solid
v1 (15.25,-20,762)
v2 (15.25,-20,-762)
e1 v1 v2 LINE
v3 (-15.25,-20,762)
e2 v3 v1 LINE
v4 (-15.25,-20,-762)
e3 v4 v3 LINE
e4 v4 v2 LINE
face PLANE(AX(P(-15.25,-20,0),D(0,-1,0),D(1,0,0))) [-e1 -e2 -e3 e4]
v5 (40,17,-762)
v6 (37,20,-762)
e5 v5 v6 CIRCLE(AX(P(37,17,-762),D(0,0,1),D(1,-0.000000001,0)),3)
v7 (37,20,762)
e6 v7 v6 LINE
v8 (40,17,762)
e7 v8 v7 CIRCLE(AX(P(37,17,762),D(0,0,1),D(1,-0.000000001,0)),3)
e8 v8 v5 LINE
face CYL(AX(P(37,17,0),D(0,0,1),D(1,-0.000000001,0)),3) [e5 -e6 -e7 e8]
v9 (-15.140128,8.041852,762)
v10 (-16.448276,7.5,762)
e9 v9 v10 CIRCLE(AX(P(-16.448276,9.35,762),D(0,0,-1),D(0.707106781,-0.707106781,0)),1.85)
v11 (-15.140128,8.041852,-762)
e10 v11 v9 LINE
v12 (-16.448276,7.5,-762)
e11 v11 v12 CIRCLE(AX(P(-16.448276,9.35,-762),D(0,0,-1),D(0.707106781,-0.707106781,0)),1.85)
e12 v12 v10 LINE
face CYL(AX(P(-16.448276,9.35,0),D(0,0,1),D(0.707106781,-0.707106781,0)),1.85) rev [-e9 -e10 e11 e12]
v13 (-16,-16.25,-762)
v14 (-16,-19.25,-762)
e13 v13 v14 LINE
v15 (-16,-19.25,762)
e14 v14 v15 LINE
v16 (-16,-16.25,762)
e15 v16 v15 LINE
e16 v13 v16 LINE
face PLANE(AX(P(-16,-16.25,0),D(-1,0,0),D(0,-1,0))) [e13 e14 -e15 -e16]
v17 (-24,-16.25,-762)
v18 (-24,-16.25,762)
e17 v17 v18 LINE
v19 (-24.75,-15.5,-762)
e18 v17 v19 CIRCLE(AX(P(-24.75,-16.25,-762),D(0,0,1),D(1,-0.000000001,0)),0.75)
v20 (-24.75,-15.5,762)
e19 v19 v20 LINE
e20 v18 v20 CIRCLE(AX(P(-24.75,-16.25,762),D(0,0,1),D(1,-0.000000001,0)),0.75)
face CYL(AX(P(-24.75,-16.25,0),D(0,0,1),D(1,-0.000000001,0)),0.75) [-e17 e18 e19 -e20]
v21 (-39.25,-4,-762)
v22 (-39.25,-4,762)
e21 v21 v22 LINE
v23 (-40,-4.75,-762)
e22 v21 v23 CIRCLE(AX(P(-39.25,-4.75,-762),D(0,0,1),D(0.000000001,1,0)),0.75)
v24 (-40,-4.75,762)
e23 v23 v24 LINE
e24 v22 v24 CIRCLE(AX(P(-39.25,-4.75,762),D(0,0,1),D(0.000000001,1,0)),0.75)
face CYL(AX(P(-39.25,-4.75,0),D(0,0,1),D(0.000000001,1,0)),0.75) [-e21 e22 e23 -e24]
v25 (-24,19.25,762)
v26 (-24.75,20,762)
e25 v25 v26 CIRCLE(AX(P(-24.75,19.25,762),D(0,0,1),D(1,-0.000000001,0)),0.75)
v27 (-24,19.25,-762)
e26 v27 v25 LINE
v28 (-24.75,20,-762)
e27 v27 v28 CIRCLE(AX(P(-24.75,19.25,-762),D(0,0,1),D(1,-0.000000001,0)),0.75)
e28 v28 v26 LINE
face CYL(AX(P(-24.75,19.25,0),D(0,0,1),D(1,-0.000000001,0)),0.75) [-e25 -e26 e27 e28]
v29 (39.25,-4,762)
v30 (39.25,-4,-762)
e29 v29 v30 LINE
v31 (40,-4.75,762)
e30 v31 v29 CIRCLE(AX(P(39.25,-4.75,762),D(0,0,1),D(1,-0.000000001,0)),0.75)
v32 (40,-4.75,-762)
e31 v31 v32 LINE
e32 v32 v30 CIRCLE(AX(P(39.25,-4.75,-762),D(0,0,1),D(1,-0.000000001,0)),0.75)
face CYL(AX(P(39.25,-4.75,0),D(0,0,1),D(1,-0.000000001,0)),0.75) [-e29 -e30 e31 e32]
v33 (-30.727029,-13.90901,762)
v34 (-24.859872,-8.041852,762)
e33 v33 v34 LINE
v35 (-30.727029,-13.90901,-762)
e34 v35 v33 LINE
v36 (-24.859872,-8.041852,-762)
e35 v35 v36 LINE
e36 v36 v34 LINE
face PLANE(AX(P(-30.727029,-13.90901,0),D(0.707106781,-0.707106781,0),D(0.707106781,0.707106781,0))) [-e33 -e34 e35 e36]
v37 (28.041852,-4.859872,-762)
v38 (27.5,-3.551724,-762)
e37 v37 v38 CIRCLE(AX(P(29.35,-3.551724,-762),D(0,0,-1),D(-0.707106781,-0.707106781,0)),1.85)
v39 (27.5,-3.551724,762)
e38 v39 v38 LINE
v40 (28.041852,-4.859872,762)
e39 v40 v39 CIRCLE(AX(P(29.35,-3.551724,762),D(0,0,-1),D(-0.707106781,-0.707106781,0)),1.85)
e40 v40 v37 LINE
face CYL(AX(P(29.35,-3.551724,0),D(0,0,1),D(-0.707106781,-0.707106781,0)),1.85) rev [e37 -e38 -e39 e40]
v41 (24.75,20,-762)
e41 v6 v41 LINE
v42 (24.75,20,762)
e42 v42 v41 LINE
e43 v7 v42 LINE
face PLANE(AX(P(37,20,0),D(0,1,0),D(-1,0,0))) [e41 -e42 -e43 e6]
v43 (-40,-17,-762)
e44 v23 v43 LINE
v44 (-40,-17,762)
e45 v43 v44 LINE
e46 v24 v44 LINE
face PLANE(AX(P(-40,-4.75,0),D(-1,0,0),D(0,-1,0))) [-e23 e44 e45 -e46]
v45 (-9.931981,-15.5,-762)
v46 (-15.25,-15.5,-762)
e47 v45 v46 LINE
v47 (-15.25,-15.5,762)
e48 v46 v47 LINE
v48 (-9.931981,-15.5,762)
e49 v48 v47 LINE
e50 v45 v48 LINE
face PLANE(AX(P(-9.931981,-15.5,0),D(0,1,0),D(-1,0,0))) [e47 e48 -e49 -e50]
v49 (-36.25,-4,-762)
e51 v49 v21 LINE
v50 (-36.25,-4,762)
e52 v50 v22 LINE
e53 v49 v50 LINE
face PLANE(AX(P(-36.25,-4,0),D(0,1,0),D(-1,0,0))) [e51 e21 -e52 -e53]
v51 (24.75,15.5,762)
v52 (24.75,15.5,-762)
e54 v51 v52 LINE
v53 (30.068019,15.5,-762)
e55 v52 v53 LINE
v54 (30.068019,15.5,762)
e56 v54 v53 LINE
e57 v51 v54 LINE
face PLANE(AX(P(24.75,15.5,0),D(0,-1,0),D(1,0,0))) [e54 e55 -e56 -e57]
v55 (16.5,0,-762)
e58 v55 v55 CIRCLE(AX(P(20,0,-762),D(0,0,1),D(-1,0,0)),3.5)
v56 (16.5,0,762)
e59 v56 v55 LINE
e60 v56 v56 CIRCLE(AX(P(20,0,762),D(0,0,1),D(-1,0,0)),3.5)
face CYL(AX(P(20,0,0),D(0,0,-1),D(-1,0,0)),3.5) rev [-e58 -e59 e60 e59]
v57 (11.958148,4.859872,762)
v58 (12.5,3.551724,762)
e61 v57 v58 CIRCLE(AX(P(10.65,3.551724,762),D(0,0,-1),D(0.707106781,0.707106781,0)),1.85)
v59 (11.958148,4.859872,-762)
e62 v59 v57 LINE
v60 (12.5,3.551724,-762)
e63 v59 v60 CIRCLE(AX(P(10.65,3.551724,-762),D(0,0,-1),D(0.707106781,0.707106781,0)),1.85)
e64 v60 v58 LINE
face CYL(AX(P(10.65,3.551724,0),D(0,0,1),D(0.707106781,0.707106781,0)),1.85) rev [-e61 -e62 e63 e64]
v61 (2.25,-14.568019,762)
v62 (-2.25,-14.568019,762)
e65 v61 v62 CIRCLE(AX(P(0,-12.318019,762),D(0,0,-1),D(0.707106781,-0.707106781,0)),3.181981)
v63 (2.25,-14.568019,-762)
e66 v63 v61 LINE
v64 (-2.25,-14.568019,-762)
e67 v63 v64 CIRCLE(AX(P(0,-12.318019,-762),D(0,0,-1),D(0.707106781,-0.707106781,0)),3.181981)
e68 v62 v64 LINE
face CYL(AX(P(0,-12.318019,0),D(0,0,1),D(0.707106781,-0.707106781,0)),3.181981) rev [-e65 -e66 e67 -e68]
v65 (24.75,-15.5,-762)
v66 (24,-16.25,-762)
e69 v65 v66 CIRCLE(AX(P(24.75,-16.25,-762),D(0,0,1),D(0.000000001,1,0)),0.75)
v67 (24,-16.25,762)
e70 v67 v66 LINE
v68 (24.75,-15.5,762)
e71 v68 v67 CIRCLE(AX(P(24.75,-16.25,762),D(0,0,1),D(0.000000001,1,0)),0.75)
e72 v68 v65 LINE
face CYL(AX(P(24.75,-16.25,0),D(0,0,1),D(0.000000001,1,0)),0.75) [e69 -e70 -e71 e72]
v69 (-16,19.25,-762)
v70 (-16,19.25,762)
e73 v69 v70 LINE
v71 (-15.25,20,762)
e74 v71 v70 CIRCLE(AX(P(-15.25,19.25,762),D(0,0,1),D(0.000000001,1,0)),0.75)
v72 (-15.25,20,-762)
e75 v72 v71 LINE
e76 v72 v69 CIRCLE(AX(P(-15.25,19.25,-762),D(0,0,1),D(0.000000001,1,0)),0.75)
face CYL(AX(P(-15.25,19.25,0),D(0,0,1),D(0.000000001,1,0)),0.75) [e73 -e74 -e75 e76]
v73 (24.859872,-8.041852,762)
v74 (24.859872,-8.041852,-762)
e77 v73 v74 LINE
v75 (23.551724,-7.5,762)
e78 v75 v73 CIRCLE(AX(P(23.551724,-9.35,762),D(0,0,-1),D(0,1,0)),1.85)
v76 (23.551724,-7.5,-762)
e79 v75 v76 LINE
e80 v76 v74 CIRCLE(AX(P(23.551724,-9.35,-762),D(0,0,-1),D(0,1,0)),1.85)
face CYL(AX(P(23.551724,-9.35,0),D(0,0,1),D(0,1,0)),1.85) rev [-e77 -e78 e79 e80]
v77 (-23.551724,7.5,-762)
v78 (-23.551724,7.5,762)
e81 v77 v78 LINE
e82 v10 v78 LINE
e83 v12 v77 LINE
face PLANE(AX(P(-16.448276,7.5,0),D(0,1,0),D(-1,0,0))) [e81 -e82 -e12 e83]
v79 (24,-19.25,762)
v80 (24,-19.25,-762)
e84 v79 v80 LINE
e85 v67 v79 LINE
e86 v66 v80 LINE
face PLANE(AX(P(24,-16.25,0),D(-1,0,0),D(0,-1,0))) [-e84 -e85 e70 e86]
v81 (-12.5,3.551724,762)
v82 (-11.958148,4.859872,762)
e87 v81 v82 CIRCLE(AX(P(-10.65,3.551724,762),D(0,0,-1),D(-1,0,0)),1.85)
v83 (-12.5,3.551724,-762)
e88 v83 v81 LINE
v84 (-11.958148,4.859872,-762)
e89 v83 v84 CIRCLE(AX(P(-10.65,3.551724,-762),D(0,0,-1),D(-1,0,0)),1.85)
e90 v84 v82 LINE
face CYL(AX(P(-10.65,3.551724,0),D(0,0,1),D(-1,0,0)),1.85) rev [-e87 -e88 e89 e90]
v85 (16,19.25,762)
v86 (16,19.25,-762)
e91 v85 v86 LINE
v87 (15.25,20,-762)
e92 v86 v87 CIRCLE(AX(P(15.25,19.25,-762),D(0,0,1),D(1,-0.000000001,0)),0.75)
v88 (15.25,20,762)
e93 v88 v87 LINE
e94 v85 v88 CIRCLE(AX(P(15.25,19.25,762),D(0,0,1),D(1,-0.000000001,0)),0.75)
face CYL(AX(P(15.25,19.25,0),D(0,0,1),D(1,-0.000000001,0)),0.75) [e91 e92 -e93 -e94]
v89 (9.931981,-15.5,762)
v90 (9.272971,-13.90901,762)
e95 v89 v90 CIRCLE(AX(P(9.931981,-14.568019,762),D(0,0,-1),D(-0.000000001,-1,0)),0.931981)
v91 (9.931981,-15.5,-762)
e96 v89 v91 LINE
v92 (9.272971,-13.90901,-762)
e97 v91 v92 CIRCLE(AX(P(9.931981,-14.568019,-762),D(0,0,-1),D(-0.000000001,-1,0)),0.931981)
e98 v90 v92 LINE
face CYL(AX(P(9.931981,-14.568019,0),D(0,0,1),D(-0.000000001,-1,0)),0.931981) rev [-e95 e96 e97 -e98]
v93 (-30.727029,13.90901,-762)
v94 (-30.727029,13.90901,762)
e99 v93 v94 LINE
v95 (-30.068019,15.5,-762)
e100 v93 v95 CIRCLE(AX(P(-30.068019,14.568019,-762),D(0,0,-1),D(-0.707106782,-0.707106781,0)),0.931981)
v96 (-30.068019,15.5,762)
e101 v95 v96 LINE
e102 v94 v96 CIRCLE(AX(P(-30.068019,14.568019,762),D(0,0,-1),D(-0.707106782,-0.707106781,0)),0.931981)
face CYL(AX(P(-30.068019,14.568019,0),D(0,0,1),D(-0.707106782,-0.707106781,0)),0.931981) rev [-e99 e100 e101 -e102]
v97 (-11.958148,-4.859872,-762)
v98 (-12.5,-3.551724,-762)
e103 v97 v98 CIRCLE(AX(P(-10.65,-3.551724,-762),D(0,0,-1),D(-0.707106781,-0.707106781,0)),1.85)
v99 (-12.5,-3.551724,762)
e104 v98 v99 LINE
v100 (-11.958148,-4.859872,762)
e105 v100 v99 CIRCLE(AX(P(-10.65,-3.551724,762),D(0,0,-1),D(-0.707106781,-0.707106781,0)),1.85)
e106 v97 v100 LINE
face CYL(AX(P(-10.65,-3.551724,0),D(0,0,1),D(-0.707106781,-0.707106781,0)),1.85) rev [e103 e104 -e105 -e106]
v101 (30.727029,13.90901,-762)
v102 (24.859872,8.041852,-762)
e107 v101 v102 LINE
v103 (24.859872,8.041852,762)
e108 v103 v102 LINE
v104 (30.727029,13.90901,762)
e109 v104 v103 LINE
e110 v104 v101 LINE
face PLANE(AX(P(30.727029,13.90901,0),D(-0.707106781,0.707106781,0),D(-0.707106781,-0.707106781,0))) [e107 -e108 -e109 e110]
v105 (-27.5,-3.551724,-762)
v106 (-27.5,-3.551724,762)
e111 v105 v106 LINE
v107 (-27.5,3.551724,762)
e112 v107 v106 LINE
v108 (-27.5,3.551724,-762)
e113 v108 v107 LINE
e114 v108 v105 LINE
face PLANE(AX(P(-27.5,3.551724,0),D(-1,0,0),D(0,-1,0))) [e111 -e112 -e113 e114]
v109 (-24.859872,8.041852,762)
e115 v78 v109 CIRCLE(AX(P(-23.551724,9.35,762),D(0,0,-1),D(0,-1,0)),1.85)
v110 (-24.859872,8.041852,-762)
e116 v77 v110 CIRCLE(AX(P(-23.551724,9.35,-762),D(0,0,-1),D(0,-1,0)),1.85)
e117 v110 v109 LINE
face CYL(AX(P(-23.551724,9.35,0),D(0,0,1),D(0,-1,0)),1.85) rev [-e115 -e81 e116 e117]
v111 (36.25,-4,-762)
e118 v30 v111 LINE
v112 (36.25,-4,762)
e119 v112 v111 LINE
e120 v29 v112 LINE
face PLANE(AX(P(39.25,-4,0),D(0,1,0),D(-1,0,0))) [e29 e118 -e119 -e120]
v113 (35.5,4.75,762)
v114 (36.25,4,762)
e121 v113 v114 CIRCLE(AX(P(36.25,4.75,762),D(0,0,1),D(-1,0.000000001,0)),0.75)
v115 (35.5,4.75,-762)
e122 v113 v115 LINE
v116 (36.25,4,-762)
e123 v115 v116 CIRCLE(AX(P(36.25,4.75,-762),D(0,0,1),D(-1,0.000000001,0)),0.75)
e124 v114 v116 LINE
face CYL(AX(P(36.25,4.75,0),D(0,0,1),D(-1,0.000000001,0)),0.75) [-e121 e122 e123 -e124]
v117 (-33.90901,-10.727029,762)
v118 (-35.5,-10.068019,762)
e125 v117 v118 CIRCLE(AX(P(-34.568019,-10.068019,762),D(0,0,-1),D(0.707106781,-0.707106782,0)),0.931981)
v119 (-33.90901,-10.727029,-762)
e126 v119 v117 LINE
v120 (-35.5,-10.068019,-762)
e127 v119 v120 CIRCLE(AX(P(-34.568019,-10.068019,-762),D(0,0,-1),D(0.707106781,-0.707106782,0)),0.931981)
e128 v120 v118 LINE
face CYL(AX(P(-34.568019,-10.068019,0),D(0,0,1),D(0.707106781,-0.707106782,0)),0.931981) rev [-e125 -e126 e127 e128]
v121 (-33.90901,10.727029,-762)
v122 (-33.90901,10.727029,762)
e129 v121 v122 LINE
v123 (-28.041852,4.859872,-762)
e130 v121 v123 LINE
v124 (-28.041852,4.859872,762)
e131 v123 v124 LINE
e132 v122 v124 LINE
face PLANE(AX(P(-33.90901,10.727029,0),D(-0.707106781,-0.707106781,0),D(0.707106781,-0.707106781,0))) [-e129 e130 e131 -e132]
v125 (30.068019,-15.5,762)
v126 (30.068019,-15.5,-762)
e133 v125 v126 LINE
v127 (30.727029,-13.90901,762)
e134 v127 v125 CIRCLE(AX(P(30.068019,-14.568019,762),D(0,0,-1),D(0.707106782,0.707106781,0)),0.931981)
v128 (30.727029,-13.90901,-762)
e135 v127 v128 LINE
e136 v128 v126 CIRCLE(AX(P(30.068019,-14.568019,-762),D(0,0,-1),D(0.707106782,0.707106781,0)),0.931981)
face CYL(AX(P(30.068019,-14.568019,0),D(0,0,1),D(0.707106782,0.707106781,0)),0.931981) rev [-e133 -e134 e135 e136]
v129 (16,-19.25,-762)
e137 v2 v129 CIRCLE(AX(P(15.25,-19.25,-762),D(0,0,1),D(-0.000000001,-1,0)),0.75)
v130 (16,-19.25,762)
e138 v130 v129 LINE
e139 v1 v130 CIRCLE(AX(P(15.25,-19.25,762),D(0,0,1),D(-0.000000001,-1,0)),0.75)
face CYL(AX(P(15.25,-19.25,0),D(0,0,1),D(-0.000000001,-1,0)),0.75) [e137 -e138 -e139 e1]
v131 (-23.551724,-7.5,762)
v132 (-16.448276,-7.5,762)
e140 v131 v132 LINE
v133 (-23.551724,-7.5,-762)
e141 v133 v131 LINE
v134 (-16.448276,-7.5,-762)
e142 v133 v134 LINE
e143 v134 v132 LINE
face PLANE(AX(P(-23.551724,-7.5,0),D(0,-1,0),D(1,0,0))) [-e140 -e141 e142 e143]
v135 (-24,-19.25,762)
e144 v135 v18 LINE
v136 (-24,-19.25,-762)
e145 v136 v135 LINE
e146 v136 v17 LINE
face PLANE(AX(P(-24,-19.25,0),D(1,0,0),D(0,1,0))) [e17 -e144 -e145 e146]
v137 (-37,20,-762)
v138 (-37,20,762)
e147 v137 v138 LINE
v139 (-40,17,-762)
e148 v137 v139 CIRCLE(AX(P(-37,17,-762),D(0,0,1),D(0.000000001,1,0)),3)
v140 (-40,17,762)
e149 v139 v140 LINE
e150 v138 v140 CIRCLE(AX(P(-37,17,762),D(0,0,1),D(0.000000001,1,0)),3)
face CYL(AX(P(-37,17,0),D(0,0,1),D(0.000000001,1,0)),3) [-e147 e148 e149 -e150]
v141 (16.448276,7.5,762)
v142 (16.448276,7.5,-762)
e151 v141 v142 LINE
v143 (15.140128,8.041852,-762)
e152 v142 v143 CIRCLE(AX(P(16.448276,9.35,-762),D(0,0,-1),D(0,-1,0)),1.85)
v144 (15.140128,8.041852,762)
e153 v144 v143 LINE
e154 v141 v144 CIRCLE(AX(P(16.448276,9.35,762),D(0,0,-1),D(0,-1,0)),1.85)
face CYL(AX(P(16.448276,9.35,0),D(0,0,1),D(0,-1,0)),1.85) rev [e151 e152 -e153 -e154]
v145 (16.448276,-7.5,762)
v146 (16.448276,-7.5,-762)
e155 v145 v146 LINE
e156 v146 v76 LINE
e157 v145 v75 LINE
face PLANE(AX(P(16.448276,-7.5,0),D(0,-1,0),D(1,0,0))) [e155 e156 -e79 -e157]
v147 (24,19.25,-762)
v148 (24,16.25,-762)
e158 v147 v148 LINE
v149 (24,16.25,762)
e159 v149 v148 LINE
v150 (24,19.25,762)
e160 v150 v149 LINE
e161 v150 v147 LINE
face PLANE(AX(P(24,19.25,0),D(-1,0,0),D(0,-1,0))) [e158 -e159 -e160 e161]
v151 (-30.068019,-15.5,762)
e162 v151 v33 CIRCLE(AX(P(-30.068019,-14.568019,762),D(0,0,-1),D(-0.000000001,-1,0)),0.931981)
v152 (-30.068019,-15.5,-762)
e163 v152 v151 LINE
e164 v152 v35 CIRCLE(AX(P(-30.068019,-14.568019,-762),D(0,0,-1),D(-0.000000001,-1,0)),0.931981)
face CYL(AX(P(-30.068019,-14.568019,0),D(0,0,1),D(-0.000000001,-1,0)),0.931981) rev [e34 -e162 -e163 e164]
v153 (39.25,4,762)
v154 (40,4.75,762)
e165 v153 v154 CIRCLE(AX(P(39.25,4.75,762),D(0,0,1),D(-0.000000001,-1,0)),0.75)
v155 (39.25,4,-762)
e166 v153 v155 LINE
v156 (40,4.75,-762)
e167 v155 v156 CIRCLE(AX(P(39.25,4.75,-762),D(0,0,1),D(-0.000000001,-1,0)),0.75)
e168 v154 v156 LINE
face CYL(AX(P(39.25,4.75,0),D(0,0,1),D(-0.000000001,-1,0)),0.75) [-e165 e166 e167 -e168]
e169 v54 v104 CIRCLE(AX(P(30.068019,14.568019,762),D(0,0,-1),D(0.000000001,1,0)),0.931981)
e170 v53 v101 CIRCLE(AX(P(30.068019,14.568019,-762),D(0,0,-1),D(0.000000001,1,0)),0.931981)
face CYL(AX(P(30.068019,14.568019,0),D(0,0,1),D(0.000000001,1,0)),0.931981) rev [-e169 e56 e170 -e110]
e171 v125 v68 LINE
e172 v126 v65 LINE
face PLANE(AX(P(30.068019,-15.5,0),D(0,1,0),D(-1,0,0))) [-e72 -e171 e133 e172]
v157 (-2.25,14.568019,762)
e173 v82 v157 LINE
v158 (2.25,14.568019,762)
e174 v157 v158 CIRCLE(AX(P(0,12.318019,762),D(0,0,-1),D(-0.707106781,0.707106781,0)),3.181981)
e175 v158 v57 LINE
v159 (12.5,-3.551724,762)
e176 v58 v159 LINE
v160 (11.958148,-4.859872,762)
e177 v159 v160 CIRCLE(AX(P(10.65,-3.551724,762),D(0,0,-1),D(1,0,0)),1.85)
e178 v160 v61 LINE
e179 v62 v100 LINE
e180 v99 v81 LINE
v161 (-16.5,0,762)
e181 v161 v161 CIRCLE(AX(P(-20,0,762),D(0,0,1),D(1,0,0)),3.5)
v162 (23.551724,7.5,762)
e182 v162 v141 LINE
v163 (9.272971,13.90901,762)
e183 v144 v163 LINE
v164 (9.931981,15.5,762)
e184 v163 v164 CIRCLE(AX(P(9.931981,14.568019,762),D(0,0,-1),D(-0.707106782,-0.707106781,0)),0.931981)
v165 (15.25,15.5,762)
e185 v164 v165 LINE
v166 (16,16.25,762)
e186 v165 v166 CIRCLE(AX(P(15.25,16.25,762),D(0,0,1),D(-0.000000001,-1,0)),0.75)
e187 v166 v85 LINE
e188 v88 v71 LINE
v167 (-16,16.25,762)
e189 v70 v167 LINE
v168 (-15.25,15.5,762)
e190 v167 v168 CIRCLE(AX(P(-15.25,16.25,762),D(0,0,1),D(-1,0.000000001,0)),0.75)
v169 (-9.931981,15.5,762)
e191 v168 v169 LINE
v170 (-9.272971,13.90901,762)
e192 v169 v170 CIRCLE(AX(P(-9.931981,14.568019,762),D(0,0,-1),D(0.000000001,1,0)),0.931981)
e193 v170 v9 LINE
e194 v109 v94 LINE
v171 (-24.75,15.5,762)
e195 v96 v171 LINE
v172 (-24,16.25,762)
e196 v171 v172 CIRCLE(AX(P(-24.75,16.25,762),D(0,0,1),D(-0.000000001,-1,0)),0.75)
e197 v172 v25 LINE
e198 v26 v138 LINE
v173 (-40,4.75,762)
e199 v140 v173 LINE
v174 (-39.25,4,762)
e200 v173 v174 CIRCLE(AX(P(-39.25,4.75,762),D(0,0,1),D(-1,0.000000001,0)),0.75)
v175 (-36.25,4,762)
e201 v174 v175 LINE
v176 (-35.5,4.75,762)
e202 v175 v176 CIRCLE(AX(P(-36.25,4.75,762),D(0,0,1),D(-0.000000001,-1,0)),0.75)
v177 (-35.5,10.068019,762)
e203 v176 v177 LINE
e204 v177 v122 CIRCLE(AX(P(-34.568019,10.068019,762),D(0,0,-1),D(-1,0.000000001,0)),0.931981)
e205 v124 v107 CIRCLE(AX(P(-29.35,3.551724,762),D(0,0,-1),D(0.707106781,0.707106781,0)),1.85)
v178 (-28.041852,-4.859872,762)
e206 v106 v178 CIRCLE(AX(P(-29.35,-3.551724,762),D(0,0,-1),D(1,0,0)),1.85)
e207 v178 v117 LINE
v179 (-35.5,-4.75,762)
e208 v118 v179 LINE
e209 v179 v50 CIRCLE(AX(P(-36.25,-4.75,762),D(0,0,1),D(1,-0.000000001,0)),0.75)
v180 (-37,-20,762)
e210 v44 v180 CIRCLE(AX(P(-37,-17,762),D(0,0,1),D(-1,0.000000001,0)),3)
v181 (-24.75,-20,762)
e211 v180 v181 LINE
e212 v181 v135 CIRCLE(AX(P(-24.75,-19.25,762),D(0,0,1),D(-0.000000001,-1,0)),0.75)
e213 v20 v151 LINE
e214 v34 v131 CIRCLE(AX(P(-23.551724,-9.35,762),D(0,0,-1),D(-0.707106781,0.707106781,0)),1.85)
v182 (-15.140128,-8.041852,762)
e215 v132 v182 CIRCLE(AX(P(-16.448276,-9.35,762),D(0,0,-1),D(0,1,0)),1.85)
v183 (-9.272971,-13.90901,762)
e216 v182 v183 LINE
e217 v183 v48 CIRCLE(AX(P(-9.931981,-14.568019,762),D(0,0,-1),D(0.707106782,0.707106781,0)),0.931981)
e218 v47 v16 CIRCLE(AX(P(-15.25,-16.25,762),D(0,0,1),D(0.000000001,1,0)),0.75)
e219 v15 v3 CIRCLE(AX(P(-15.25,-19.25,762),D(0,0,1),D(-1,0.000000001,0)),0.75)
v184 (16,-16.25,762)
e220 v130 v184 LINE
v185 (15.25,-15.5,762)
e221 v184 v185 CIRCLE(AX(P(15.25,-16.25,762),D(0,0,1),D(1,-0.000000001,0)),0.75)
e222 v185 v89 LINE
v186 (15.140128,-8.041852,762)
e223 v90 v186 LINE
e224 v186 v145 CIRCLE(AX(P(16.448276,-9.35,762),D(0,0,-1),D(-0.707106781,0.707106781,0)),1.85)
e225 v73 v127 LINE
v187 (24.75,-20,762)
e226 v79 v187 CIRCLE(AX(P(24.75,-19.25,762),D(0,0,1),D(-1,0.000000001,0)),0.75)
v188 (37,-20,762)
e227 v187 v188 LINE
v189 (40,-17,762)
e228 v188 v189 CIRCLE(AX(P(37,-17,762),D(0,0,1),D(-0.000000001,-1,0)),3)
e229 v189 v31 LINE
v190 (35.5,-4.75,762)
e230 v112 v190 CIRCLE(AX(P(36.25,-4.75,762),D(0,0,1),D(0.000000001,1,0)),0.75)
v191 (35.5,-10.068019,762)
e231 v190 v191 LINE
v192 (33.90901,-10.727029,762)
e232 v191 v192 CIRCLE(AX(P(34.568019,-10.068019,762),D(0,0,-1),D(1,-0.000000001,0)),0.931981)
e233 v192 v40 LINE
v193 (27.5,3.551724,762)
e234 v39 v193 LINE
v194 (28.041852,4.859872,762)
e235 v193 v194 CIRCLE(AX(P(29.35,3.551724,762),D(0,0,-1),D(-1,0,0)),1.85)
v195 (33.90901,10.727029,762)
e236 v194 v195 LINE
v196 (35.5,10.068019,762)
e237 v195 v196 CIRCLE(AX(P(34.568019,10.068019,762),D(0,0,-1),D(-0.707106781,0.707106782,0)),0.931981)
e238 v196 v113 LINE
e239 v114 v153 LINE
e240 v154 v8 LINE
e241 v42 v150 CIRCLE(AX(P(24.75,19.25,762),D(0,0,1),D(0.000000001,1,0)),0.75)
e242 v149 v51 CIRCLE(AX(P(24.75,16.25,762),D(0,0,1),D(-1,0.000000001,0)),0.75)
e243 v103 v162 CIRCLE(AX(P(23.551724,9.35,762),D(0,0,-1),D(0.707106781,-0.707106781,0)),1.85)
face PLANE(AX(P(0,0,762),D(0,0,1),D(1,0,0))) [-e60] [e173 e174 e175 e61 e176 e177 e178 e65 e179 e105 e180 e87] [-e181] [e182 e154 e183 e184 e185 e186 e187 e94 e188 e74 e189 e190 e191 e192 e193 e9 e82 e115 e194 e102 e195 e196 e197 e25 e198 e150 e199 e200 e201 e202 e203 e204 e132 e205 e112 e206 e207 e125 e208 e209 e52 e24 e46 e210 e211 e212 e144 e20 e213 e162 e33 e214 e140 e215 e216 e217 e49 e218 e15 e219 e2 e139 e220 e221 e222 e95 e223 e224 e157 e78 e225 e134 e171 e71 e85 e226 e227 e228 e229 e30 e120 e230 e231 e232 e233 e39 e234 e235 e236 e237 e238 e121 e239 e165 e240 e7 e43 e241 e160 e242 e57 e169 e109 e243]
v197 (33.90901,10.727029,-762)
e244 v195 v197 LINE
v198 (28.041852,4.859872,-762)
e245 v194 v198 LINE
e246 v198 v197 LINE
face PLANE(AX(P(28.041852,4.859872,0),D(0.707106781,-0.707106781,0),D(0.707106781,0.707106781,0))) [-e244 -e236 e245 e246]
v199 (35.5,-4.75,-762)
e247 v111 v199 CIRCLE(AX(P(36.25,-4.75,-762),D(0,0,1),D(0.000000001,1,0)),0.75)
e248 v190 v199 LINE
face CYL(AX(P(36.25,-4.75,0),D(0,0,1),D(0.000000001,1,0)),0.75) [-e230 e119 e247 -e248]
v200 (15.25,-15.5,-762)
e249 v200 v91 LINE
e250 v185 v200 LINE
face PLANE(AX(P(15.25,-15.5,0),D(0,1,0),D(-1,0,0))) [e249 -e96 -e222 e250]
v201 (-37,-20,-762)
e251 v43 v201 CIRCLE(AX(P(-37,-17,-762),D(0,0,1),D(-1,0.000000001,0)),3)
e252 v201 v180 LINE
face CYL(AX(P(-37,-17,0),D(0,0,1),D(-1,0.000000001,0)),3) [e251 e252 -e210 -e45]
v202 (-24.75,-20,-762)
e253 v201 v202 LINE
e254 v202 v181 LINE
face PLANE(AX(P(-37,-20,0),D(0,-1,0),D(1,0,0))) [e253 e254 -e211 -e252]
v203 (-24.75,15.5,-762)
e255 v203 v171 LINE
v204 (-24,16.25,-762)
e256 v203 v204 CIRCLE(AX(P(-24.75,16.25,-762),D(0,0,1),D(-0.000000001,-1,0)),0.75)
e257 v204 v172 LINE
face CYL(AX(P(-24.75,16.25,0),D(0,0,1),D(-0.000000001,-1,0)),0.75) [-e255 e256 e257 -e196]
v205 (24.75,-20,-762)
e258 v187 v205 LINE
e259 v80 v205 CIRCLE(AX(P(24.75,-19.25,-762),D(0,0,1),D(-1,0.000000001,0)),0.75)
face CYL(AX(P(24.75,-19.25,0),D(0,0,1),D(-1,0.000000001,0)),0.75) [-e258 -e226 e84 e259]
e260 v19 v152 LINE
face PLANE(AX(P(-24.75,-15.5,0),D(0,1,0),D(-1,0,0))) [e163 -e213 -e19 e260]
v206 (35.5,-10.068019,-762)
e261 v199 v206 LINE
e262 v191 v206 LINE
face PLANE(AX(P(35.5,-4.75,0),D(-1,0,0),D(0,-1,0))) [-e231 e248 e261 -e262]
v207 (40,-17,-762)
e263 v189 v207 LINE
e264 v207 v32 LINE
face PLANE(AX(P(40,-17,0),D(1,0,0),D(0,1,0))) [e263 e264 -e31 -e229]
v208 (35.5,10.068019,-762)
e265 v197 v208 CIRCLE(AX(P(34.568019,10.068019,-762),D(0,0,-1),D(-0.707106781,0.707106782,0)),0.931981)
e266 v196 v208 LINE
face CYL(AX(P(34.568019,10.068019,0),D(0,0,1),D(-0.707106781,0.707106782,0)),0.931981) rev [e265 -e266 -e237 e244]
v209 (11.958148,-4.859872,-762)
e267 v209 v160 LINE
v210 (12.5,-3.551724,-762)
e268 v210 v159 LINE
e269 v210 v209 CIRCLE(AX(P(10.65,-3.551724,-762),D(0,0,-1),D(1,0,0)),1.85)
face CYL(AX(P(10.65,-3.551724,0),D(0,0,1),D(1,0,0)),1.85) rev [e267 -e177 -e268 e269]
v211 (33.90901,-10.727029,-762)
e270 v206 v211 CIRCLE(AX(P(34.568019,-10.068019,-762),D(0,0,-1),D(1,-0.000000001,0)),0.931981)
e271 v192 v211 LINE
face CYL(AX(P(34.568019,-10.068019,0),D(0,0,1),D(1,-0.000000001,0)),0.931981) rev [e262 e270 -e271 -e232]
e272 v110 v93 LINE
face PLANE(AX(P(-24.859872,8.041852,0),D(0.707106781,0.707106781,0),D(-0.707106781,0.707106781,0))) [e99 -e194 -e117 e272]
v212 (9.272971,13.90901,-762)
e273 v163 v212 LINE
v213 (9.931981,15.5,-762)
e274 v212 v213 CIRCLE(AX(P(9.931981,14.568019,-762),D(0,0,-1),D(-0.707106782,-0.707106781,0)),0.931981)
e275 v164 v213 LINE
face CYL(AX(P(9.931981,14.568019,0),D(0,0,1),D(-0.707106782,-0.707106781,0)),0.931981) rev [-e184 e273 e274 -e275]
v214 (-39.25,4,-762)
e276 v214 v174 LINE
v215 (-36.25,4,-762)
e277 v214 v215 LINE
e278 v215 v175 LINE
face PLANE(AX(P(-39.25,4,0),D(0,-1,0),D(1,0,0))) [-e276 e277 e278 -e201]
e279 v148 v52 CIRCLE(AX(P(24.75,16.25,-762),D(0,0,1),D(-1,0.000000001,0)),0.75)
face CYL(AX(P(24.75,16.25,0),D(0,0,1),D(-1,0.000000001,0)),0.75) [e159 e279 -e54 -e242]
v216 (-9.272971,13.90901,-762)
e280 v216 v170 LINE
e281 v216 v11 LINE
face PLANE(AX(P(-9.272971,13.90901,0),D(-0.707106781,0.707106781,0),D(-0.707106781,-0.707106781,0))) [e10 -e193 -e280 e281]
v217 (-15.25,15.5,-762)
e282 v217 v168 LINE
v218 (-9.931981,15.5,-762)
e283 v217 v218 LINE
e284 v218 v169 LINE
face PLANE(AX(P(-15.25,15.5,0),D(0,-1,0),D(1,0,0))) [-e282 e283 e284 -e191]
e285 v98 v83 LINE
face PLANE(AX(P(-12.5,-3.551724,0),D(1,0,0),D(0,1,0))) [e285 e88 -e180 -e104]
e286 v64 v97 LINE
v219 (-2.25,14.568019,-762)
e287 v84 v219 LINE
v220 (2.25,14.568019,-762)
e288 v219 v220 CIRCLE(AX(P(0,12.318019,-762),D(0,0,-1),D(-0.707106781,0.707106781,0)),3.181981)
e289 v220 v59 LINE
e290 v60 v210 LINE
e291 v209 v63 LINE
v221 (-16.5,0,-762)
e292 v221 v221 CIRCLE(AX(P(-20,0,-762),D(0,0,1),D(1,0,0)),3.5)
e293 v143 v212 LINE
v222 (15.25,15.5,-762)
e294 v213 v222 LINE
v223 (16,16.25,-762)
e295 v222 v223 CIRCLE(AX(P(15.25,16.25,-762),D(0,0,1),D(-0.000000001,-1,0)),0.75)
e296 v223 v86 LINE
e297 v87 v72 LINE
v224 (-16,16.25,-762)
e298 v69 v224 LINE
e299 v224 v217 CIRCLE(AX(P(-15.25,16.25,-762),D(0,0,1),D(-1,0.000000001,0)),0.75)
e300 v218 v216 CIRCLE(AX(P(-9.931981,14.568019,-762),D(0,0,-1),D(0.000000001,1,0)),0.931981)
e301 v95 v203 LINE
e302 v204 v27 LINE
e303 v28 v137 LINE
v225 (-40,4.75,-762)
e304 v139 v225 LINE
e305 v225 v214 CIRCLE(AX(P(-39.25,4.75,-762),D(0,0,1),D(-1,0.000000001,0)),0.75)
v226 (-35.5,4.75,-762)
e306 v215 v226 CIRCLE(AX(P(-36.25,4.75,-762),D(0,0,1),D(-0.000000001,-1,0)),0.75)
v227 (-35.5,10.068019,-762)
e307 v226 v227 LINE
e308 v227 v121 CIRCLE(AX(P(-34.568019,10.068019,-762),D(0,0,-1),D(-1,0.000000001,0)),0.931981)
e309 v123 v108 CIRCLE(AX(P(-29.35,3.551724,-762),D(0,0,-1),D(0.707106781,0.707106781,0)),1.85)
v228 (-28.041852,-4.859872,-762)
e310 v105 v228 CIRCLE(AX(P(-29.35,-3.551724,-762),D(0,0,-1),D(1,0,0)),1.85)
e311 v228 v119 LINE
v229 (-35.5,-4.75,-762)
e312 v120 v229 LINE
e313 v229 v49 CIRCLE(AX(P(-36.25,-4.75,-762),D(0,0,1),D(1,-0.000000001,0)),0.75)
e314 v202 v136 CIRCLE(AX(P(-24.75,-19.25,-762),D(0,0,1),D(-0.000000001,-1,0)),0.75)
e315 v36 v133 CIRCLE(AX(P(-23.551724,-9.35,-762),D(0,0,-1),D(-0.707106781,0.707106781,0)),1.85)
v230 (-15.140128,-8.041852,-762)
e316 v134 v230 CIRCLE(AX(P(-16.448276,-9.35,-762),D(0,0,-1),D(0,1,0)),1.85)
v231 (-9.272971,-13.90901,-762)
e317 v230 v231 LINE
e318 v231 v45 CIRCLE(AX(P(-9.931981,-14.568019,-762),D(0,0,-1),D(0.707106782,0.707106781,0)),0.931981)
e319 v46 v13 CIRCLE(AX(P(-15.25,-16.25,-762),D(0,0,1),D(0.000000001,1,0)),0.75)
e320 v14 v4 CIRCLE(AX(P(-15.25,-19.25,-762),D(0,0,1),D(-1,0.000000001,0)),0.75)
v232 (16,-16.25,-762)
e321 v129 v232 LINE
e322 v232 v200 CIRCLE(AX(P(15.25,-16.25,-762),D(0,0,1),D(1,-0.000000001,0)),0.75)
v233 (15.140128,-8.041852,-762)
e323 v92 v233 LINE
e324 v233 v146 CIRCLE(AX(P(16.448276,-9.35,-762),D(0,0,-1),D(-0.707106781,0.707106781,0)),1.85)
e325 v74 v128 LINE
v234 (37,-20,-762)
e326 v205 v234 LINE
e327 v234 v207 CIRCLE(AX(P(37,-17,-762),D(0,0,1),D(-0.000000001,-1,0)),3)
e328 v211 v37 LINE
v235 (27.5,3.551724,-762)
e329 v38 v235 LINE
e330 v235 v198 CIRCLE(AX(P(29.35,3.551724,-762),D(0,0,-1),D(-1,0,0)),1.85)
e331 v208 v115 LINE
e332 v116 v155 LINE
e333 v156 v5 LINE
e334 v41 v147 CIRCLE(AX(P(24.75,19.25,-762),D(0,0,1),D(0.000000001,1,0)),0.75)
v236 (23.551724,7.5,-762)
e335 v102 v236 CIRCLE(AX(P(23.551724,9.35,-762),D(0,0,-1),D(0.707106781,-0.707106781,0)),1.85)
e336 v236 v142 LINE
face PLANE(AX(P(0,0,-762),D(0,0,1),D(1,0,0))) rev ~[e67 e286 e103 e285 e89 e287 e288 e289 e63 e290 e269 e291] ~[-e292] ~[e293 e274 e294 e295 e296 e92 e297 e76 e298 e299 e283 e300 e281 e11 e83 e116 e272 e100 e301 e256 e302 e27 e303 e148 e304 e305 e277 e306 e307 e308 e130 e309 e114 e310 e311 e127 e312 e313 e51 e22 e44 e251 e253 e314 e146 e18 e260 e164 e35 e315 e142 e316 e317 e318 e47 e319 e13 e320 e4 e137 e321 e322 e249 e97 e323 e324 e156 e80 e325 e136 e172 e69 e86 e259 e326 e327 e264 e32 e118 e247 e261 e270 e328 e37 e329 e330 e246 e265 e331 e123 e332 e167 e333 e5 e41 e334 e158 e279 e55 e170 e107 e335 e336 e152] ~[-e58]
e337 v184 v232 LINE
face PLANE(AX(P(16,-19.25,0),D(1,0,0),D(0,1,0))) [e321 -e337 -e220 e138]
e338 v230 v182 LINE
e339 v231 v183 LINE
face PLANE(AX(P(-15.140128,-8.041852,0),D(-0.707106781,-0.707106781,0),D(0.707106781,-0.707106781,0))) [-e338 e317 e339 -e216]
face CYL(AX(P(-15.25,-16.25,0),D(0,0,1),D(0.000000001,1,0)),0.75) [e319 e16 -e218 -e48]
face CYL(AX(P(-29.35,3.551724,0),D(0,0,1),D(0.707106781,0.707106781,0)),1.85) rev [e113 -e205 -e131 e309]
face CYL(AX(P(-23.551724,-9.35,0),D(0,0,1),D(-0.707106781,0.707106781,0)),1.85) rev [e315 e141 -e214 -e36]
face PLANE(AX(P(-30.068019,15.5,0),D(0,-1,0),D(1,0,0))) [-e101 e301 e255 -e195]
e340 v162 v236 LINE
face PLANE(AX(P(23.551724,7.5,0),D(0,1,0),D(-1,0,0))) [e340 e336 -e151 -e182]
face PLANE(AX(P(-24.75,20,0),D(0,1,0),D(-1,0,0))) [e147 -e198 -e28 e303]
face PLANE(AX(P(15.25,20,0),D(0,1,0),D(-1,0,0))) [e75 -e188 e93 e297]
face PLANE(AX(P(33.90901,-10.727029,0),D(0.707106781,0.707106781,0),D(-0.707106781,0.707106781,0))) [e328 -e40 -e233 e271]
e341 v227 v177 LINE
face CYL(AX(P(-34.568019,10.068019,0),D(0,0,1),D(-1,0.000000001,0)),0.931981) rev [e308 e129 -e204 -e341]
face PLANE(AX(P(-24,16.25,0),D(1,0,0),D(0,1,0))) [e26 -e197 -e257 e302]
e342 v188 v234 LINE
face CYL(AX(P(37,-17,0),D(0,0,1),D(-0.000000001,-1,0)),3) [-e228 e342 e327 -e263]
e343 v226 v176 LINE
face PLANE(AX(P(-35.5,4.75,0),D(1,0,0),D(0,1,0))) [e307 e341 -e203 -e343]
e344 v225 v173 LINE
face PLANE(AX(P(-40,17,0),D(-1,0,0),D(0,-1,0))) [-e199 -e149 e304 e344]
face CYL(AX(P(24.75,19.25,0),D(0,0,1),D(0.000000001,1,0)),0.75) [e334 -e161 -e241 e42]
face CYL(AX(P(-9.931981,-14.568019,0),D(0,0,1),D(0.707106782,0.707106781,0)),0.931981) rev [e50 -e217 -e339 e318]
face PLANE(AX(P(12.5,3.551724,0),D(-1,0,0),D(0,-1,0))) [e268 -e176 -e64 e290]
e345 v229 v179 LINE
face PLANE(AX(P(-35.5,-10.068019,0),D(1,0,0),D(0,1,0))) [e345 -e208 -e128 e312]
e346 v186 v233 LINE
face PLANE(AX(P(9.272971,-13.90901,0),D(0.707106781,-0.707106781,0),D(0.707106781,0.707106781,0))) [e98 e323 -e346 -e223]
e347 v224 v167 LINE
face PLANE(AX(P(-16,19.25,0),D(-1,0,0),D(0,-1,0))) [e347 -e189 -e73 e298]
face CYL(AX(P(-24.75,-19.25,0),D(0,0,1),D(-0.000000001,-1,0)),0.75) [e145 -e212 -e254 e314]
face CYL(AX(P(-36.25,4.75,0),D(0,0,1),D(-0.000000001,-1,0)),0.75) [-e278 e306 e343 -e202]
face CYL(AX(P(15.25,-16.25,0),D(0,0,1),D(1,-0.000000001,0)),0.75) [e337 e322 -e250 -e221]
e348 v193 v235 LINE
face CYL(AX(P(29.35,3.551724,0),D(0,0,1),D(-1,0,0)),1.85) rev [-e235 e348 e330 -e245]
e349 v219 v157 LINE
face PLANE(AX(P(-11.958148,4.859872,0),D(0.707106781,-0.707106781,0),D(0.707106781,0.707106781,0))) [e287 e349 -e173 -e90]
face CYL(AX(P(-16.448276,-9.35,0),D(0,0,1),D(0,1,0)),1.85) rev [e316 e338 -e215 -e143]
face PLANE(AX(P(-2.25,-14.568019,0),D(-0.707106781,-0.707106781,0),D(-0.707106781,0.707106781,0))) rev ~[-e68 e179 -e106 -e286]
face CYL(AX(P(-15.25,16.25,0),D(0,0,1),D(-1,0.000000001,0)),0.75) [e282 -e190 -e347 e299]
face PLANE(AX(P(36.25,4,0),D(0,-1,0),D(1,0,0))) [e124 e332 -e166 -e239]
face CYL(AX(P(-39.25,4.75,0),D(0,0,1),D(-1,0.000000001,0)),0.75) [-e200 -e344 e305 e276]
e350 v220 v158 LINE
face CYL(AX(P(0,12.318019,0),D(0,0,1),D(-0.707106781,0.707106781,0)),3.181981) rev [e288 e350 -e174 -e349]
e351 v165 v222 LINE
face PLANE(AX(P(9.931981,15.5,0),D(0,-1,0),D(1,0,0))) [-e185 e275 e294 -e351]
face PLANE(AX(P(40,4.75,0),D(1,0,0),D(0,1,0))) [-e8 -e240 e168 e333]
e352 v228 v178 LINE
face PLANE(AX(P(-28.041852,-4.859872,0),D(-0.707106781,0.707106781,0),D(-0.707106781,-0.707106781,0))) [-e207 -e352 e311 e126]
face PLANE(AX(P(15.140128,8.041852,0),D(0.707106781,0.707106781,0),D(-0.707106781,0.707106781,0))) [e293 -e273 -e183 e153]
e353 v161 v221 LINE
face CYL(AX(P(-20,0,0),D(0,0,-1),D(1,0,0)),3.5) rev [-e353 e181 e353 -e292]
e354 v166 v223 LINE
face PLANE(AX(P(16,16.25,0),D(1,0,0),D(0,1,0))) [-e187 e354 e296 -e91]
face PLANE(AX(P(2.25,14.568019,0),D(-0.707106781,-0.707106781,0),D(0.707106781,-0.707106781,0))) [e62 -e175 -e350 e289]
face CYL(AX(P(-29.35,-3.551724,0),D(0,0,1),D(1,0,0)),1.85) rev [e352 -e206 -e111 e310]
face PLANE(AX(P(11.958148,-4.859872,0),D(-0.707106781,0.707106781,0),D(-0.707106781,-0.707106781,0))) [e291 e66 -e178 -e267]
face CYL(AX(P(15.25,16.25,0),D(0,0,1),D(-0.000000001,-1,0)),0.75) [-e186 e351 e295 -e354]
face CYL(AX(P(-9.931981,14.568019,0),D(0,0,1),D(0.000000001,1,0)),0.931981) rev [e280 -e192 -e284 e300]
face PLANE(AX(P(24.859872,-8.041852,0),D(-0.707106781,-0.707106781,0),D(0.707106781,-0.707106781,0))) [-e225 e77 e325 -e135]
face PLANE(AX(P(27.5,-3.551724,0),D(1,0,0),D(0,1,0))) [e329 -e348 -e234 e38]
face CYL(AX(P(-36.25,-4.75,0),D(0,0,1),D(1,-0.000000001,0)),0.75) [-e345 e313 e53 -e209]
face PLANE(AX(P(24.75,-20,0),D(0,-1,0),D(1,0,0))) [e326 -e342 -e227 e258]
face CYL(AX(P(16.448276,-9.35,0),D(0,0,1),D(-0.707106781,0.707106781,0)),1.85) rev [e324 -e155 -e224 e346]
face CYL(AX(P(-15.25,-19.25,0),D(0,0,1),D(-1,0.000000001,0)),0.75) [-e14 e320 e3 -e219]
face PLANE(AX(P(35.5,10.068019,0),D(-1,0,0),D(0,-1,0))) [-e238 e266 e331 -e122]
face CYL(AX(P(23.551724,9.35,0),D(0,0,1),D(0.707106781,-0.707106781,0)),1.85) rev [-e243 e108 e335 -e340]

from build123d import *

# Parameters (mm, degrees)
SKETCH3_R           = 3.5
BOSS_EXTRUDE1_DEPTH = 762


with BuildPart() as part:
    # Sketch3 → Boss-Extrude1 (new, symmetric)
    with BuildSketch(Plane.XY):
        with BuildLine():
            Line((15.25, 20), (-15.25, 20))
            ThreePointArc((-15.25, 20), (-15.780330086, 19.780330086), (-16, 19.25))
            Line((-16, 19.25), (-16, 16.25))
            ThreePointArc((-16, 16.25), (-15.780330086, 15.719669914), (-15.25, 15.5))
            Line((-15.25, 15.5), (-9.931980515, 15.5))
            ThreePointArc((-9.931980515, 15.5), (-9.070942793, 14.924672987), (-9.272970773, 13.909009742))
            Line((-9.272970773, 13.909009742), (-15.140128061, 8.041852455))
            ThreePointArc((-15.140128061, 8.041852455), (-15.740311256, 7.640822865), (-16.448275606, 7.5))
            Line((-16.448275606, 7.5), (-23.551724394, 7.5))
            ThreePointArc((-23.551724394, 7.5), (-24.259688744, 7.640822865), (-24.859871939, 8.041852455))
            Line((-24.859871939, 8.041852455), (-30.727029227, 13.909009742))
            ThreePointArc((-30.727029227, 13.909009742), (-30.929057207, 14.924672987), (-30.068019485, 15.5))
            Line((-30.068019485, 15.5), (-24.75, 15.5))
            ThreePointArc((-24.75, 15.5), (-24.219669914, 15.719669914), (-24, 16.25))
            Line((-24, 16.25), (-24, 19.25))
            ThreePointArc((-24, 19.25), (-24.219669914, 19.780330086), (-24.75, 20))
            Line((-24.75, 20), (-37, 20))
            ThreePointArc((-37, 20), (-39.121320344, 19.121320344), (-40, 17))
            Line((-40, 17), (-40, 4.75))
            ThreePointArc((-40, 4.75), (-39.780330086, 4.219669914), (-39.25, 4))
            Line((-39.25, 4), (-36.25, 4))
            ThreePointArc((-36.25, 4), (-35.719669914, 4.219669914), (-35.5, 4.75))
            Line((-35.5, 4.75), (-35.5, 10.068019485))
            ThreePointArc((-35.5, 10.068019485), (-34.924672987, 10.929057207), (-33.909009742, 10.727029227))
            Line((-33.909009742, 10.727029227), (-28.041852455, 4.859871939))
            ThreePointArc((-28.041852455, 4.859871939), (-27.640822865, 4.259688744), (-27.5, 3.551724394))
            Line((-27.5, 3.551724394), (-27.5, -3.551724394))
            ThreePointArc((-27.5, -3.551724394), (-27.640822865, -4.259688744), (-28.041852455, -4.859871939))
            Line((-28.041852455, -4.859871939), (-33.909009742, -10.727029227))
            ThreePointArc((-33.909009742, -10.727029227), (-34.924672987, -10.929057207), (-35.5, -10.068019485))
            Line((-35.5, -10.068019485), (-35.5, -4.75))
            ThreePointArc((-35.5, -4.75), (-35.719669914, -4.219669914), (-36.25, -4))
            Line((-36.25, -4), (-39.25, -4))
            ThreePointArc((-39.25, -4), (-39.780330086, -4.219669914), (-40, -4.75))
            Line((-40, -4.75), (-40, -17))
            ThreePointArc((-40, -17), (-39.121320344, -19.121320344), (-37, -20))
            Line((-37, -20), (-24.75, -20))
            ThreePointArc((-24.75, -20), (-24.219669914, -19.780330086), (-24, -19.25))
            Line((-24, -19.25), (-24, -16.25))
            ThreePointArc((-24, -16.25), (-24.219669914, -15.719669914), (-24.75, -15.5))
            Line((-24.75, -15.5), (-30.068019485, -15.5))
            ThreePointArc((-30.068019485, -15.5), (-30.929057207, -14.924672987), (-30.727029227, -13.909009742))
            Line((-30.727029227, -13.909009742), (-24.859871939, -8.041852455))
            ThreePointArc((-24.859871939, -8.041852455), (-24.259688744, -7.640822865), (-23.551724394, -7.5))
            Line((-23.551724394, -7.5), (-16.448275606, -7.5))
            ThreePointArc((-16.448275606, -7.5), (-15.740311256, -7.640822865), (-15.140128061, -8.041852455))
            Line((-15.140128061, -8.041852455), (-9.272970773, -13.909009742))
            ThreePointArc((-9.272970773, -13.909009742), (-9.070942793, -14.924672987), (-9.931980515, -15.5))
            Line((-9.931980515, -15.5), (-15.25, -15.5))
            ThreePointArc((-15.25, -15.5), (-15.780330086, -15.719669914), (-16, -16.25))
            Line((-16, -16.25), (-16, -19.25))
            ThreePointArc((-16, -19.25), (-15.780330086, -19.780330086), (-15.25, -20))
            Line((-15.25, -20), (15.25, -20))
            ThreePointArc((15.25, -20), (15.780330086, -19.780330086), (16, -19.25))
            Line((16, -19.25), (16, -16.25))
            ThreePointArc((16, -16.25), (15.780330086, -15.719669914), (15.25, -15.5))
            Line((15.25, -15.5), (9.931980515, -15.5))
            ThreePointArc((9.931980515, -15.5), (9.070942793, -14.924672987), (9.272970773, -13.909009742))
            Line((9.272970773, -13.909009742), (15.140128061, -8.041852455))
            ThreePointArc((15.140128061, -8.041852455), (15.740311256, -7.640822865), (16.448275606, -7.5))
            Line((16.448275606, -7.5), (23.551724394, -7.5))
            ThreePointArc((23.551724394, -7.5), (24.259688744, -7.640822865), (24.859871939, -8.041852455))
            Line((24.859871939, -8.041852455), (30.727029227, -13.909009742))
            ThreePointArc((30.727029227, -13.909009742), (30.929057207, -14.924672987), (30.068019485, -15.5))
            Line((30.068019485, -15.5), (24.75, -15.5))
            ThreePointArc((24.75, -15.5), (24.219669914, -15.719669914), (24, -16.25))
            Line((24, -16.25), (24, -19.25))
            ThreePointArc((24, -19.25), (24.219669914, -19.780330086), (24.75, -20))
            Line((24.75, -20), (37, -20))
            ThreePointArc((37, -20), (39.121320344, -19.121320344), (40, -17))
            Line((40, -17), (40, -4.75))
            ThreePointArc((40, -4.75), (39.780330086, -4.219669914), (39.25, -4))
            Line((39.25, -4), (36.25, -4))
            ThreePointArc((36.25, -4), (35.719669914, -4.219669914), (35.5, -4.75))
            Line((35.5, -4.75), (35.5, -10.068019485))
            ThreePointArc((35.5, -10.068019485), (34.924672987, -10.929057207), (33.909009742, -10.727029227))
            Line((33.909009742, -10.727029227), (28.041852455, -4.859871939))
            ThreePointArc((28.041852455, -4.859871939), (27.640822865, -4.259688744), (27.5, -3.551724394))
            Line((27.5, -3.551724394), (27.5, 3.551724394))
            ThreePointArc((27.5, 3.551724394), (27.640822865, 4.259688744), (28.041852455, 4.859871939))
            Line((28.041852455, 4.859871939), (33.909009742, 10.727029227))
            ThreePointArc((33.909009742, 10.727029227), (34.924672987, 10.929057207), (35.5, 10.068019485))
            Line((35.5, 10.068019485), (35.5, 4.75))
            ThreePointArc((35.5, 4.75), (35.719669914, 4.219669914), (36.25, 4))
            Line((36.25, 4), (39.25, 4))
            ThreePointArc((39.25, 4), (39.780330086, 4.219669914), (40, 4.75))
            Line((40, 4.75), (40, 17))
            ThreePointArc((40, 17), (39.121320344, 19.121320344), (37, 20))
            Line((37, 20), (24.75, 20))
            ThreePointArc((24.75, 20), (24.219669914, 19.780330086), (24, 19.25))
            Line((24, 19.25), (24, 16.25))
            ThreePointArc((24, 16.25), (24.219669914, 15.719669914), (24.75, 15.5))
            Line((24.75, 15.5), (30.068019485, 15.5))
            ThreePointArc((30.068019485, 15.5), (30.929057207, 14.924672987), (30.727029227, 13.909009742))
            Line((30.727029227, 13.909009742), (24.859871939, 8.041852455))
            ThreePointArc((24.859871939, 8.041852455), (24.259688744, 7.640822865), (23.551724394, 7.5))
            Line((23.551724394, 7.5), (16.448275606, 7.5))
            ThreePointArc((16.448275606, 7.5), (15.740311256, 7.640822865), (15.140128061, 8.041852455))
            Line((15.140128061, 8.041852455), (9.272970773, 13.909009742))
            ThreePointArc((9.272970773, 13.909009742), (9.070942793, 14.924672987), (9.931980515, 15.5))
            Line((9.931980515, 15.5), (15.25, 15.5))
            ThreePointArc((15.25, 15.5), (15.780330086, 15.719669914), (16, 16.25))
            Line((16, 16.25), (16, 19.25))
            ThreePointArc((16, 19.25), (15.780330086, 19.780330086), (15.25, 20))
        make_face()
        with Locations((-20, 0)):
            Circle(SKETCH3_R, mode=Mode.SUBTRACT)
        with Locations(Location((20, 0, 0), (0, 0, 180))):
            Circle(SKETCH3_R, mode=Mode.SUBTRACT)
        with BuildLine():
            Line((-2.25, -14.568019485), (-11.958147545, -4.859871939))
            ThreePointArc((-11.958147545, -4.859871939), (-12.359177135, -4.259688744), (-12.5, -3.551724394))
            Line((-12.5, -3.551724394), (-12.5, 3.551724394))
            ThreePointArc((-12.5, 3.551724394), (-12.359177135, 4.259688744), (-11.958147545, 4.859871939))
            Line((-11.958147545, 4.859871939), (-2.25, 14.568019485))
            ThreePointArc((-2.25, 14.568019485), (0, 15.5), (2.25, 14.568019485))
            Line((2.25, 14.568019485), (11.958147545, 4.859871939))
            ThreePointArc((11.958147545, 4.859871939), (12.359177135, 4.259688744), (12.5, 3.551724394))
            Line((12.5, 3.551724394), (12.5, -3.551724394))
            ThreePointArc((12.5, -3.551724394), (12.359177135, -4.259688744), (11.958147545, -4.859871939))
            Line((11.958147545, -4.859871939), (2.25, -14.568019485))
            ThreePointArc((2.25, -14.568019485), (0, -15.5), (-2.25, -14.568019485))
        make_face(mode=Mode.SUBTRACT)
    extrude(amount=BOSS_EXTRUDE1_DEPTH, both=True)


solid = part.part
